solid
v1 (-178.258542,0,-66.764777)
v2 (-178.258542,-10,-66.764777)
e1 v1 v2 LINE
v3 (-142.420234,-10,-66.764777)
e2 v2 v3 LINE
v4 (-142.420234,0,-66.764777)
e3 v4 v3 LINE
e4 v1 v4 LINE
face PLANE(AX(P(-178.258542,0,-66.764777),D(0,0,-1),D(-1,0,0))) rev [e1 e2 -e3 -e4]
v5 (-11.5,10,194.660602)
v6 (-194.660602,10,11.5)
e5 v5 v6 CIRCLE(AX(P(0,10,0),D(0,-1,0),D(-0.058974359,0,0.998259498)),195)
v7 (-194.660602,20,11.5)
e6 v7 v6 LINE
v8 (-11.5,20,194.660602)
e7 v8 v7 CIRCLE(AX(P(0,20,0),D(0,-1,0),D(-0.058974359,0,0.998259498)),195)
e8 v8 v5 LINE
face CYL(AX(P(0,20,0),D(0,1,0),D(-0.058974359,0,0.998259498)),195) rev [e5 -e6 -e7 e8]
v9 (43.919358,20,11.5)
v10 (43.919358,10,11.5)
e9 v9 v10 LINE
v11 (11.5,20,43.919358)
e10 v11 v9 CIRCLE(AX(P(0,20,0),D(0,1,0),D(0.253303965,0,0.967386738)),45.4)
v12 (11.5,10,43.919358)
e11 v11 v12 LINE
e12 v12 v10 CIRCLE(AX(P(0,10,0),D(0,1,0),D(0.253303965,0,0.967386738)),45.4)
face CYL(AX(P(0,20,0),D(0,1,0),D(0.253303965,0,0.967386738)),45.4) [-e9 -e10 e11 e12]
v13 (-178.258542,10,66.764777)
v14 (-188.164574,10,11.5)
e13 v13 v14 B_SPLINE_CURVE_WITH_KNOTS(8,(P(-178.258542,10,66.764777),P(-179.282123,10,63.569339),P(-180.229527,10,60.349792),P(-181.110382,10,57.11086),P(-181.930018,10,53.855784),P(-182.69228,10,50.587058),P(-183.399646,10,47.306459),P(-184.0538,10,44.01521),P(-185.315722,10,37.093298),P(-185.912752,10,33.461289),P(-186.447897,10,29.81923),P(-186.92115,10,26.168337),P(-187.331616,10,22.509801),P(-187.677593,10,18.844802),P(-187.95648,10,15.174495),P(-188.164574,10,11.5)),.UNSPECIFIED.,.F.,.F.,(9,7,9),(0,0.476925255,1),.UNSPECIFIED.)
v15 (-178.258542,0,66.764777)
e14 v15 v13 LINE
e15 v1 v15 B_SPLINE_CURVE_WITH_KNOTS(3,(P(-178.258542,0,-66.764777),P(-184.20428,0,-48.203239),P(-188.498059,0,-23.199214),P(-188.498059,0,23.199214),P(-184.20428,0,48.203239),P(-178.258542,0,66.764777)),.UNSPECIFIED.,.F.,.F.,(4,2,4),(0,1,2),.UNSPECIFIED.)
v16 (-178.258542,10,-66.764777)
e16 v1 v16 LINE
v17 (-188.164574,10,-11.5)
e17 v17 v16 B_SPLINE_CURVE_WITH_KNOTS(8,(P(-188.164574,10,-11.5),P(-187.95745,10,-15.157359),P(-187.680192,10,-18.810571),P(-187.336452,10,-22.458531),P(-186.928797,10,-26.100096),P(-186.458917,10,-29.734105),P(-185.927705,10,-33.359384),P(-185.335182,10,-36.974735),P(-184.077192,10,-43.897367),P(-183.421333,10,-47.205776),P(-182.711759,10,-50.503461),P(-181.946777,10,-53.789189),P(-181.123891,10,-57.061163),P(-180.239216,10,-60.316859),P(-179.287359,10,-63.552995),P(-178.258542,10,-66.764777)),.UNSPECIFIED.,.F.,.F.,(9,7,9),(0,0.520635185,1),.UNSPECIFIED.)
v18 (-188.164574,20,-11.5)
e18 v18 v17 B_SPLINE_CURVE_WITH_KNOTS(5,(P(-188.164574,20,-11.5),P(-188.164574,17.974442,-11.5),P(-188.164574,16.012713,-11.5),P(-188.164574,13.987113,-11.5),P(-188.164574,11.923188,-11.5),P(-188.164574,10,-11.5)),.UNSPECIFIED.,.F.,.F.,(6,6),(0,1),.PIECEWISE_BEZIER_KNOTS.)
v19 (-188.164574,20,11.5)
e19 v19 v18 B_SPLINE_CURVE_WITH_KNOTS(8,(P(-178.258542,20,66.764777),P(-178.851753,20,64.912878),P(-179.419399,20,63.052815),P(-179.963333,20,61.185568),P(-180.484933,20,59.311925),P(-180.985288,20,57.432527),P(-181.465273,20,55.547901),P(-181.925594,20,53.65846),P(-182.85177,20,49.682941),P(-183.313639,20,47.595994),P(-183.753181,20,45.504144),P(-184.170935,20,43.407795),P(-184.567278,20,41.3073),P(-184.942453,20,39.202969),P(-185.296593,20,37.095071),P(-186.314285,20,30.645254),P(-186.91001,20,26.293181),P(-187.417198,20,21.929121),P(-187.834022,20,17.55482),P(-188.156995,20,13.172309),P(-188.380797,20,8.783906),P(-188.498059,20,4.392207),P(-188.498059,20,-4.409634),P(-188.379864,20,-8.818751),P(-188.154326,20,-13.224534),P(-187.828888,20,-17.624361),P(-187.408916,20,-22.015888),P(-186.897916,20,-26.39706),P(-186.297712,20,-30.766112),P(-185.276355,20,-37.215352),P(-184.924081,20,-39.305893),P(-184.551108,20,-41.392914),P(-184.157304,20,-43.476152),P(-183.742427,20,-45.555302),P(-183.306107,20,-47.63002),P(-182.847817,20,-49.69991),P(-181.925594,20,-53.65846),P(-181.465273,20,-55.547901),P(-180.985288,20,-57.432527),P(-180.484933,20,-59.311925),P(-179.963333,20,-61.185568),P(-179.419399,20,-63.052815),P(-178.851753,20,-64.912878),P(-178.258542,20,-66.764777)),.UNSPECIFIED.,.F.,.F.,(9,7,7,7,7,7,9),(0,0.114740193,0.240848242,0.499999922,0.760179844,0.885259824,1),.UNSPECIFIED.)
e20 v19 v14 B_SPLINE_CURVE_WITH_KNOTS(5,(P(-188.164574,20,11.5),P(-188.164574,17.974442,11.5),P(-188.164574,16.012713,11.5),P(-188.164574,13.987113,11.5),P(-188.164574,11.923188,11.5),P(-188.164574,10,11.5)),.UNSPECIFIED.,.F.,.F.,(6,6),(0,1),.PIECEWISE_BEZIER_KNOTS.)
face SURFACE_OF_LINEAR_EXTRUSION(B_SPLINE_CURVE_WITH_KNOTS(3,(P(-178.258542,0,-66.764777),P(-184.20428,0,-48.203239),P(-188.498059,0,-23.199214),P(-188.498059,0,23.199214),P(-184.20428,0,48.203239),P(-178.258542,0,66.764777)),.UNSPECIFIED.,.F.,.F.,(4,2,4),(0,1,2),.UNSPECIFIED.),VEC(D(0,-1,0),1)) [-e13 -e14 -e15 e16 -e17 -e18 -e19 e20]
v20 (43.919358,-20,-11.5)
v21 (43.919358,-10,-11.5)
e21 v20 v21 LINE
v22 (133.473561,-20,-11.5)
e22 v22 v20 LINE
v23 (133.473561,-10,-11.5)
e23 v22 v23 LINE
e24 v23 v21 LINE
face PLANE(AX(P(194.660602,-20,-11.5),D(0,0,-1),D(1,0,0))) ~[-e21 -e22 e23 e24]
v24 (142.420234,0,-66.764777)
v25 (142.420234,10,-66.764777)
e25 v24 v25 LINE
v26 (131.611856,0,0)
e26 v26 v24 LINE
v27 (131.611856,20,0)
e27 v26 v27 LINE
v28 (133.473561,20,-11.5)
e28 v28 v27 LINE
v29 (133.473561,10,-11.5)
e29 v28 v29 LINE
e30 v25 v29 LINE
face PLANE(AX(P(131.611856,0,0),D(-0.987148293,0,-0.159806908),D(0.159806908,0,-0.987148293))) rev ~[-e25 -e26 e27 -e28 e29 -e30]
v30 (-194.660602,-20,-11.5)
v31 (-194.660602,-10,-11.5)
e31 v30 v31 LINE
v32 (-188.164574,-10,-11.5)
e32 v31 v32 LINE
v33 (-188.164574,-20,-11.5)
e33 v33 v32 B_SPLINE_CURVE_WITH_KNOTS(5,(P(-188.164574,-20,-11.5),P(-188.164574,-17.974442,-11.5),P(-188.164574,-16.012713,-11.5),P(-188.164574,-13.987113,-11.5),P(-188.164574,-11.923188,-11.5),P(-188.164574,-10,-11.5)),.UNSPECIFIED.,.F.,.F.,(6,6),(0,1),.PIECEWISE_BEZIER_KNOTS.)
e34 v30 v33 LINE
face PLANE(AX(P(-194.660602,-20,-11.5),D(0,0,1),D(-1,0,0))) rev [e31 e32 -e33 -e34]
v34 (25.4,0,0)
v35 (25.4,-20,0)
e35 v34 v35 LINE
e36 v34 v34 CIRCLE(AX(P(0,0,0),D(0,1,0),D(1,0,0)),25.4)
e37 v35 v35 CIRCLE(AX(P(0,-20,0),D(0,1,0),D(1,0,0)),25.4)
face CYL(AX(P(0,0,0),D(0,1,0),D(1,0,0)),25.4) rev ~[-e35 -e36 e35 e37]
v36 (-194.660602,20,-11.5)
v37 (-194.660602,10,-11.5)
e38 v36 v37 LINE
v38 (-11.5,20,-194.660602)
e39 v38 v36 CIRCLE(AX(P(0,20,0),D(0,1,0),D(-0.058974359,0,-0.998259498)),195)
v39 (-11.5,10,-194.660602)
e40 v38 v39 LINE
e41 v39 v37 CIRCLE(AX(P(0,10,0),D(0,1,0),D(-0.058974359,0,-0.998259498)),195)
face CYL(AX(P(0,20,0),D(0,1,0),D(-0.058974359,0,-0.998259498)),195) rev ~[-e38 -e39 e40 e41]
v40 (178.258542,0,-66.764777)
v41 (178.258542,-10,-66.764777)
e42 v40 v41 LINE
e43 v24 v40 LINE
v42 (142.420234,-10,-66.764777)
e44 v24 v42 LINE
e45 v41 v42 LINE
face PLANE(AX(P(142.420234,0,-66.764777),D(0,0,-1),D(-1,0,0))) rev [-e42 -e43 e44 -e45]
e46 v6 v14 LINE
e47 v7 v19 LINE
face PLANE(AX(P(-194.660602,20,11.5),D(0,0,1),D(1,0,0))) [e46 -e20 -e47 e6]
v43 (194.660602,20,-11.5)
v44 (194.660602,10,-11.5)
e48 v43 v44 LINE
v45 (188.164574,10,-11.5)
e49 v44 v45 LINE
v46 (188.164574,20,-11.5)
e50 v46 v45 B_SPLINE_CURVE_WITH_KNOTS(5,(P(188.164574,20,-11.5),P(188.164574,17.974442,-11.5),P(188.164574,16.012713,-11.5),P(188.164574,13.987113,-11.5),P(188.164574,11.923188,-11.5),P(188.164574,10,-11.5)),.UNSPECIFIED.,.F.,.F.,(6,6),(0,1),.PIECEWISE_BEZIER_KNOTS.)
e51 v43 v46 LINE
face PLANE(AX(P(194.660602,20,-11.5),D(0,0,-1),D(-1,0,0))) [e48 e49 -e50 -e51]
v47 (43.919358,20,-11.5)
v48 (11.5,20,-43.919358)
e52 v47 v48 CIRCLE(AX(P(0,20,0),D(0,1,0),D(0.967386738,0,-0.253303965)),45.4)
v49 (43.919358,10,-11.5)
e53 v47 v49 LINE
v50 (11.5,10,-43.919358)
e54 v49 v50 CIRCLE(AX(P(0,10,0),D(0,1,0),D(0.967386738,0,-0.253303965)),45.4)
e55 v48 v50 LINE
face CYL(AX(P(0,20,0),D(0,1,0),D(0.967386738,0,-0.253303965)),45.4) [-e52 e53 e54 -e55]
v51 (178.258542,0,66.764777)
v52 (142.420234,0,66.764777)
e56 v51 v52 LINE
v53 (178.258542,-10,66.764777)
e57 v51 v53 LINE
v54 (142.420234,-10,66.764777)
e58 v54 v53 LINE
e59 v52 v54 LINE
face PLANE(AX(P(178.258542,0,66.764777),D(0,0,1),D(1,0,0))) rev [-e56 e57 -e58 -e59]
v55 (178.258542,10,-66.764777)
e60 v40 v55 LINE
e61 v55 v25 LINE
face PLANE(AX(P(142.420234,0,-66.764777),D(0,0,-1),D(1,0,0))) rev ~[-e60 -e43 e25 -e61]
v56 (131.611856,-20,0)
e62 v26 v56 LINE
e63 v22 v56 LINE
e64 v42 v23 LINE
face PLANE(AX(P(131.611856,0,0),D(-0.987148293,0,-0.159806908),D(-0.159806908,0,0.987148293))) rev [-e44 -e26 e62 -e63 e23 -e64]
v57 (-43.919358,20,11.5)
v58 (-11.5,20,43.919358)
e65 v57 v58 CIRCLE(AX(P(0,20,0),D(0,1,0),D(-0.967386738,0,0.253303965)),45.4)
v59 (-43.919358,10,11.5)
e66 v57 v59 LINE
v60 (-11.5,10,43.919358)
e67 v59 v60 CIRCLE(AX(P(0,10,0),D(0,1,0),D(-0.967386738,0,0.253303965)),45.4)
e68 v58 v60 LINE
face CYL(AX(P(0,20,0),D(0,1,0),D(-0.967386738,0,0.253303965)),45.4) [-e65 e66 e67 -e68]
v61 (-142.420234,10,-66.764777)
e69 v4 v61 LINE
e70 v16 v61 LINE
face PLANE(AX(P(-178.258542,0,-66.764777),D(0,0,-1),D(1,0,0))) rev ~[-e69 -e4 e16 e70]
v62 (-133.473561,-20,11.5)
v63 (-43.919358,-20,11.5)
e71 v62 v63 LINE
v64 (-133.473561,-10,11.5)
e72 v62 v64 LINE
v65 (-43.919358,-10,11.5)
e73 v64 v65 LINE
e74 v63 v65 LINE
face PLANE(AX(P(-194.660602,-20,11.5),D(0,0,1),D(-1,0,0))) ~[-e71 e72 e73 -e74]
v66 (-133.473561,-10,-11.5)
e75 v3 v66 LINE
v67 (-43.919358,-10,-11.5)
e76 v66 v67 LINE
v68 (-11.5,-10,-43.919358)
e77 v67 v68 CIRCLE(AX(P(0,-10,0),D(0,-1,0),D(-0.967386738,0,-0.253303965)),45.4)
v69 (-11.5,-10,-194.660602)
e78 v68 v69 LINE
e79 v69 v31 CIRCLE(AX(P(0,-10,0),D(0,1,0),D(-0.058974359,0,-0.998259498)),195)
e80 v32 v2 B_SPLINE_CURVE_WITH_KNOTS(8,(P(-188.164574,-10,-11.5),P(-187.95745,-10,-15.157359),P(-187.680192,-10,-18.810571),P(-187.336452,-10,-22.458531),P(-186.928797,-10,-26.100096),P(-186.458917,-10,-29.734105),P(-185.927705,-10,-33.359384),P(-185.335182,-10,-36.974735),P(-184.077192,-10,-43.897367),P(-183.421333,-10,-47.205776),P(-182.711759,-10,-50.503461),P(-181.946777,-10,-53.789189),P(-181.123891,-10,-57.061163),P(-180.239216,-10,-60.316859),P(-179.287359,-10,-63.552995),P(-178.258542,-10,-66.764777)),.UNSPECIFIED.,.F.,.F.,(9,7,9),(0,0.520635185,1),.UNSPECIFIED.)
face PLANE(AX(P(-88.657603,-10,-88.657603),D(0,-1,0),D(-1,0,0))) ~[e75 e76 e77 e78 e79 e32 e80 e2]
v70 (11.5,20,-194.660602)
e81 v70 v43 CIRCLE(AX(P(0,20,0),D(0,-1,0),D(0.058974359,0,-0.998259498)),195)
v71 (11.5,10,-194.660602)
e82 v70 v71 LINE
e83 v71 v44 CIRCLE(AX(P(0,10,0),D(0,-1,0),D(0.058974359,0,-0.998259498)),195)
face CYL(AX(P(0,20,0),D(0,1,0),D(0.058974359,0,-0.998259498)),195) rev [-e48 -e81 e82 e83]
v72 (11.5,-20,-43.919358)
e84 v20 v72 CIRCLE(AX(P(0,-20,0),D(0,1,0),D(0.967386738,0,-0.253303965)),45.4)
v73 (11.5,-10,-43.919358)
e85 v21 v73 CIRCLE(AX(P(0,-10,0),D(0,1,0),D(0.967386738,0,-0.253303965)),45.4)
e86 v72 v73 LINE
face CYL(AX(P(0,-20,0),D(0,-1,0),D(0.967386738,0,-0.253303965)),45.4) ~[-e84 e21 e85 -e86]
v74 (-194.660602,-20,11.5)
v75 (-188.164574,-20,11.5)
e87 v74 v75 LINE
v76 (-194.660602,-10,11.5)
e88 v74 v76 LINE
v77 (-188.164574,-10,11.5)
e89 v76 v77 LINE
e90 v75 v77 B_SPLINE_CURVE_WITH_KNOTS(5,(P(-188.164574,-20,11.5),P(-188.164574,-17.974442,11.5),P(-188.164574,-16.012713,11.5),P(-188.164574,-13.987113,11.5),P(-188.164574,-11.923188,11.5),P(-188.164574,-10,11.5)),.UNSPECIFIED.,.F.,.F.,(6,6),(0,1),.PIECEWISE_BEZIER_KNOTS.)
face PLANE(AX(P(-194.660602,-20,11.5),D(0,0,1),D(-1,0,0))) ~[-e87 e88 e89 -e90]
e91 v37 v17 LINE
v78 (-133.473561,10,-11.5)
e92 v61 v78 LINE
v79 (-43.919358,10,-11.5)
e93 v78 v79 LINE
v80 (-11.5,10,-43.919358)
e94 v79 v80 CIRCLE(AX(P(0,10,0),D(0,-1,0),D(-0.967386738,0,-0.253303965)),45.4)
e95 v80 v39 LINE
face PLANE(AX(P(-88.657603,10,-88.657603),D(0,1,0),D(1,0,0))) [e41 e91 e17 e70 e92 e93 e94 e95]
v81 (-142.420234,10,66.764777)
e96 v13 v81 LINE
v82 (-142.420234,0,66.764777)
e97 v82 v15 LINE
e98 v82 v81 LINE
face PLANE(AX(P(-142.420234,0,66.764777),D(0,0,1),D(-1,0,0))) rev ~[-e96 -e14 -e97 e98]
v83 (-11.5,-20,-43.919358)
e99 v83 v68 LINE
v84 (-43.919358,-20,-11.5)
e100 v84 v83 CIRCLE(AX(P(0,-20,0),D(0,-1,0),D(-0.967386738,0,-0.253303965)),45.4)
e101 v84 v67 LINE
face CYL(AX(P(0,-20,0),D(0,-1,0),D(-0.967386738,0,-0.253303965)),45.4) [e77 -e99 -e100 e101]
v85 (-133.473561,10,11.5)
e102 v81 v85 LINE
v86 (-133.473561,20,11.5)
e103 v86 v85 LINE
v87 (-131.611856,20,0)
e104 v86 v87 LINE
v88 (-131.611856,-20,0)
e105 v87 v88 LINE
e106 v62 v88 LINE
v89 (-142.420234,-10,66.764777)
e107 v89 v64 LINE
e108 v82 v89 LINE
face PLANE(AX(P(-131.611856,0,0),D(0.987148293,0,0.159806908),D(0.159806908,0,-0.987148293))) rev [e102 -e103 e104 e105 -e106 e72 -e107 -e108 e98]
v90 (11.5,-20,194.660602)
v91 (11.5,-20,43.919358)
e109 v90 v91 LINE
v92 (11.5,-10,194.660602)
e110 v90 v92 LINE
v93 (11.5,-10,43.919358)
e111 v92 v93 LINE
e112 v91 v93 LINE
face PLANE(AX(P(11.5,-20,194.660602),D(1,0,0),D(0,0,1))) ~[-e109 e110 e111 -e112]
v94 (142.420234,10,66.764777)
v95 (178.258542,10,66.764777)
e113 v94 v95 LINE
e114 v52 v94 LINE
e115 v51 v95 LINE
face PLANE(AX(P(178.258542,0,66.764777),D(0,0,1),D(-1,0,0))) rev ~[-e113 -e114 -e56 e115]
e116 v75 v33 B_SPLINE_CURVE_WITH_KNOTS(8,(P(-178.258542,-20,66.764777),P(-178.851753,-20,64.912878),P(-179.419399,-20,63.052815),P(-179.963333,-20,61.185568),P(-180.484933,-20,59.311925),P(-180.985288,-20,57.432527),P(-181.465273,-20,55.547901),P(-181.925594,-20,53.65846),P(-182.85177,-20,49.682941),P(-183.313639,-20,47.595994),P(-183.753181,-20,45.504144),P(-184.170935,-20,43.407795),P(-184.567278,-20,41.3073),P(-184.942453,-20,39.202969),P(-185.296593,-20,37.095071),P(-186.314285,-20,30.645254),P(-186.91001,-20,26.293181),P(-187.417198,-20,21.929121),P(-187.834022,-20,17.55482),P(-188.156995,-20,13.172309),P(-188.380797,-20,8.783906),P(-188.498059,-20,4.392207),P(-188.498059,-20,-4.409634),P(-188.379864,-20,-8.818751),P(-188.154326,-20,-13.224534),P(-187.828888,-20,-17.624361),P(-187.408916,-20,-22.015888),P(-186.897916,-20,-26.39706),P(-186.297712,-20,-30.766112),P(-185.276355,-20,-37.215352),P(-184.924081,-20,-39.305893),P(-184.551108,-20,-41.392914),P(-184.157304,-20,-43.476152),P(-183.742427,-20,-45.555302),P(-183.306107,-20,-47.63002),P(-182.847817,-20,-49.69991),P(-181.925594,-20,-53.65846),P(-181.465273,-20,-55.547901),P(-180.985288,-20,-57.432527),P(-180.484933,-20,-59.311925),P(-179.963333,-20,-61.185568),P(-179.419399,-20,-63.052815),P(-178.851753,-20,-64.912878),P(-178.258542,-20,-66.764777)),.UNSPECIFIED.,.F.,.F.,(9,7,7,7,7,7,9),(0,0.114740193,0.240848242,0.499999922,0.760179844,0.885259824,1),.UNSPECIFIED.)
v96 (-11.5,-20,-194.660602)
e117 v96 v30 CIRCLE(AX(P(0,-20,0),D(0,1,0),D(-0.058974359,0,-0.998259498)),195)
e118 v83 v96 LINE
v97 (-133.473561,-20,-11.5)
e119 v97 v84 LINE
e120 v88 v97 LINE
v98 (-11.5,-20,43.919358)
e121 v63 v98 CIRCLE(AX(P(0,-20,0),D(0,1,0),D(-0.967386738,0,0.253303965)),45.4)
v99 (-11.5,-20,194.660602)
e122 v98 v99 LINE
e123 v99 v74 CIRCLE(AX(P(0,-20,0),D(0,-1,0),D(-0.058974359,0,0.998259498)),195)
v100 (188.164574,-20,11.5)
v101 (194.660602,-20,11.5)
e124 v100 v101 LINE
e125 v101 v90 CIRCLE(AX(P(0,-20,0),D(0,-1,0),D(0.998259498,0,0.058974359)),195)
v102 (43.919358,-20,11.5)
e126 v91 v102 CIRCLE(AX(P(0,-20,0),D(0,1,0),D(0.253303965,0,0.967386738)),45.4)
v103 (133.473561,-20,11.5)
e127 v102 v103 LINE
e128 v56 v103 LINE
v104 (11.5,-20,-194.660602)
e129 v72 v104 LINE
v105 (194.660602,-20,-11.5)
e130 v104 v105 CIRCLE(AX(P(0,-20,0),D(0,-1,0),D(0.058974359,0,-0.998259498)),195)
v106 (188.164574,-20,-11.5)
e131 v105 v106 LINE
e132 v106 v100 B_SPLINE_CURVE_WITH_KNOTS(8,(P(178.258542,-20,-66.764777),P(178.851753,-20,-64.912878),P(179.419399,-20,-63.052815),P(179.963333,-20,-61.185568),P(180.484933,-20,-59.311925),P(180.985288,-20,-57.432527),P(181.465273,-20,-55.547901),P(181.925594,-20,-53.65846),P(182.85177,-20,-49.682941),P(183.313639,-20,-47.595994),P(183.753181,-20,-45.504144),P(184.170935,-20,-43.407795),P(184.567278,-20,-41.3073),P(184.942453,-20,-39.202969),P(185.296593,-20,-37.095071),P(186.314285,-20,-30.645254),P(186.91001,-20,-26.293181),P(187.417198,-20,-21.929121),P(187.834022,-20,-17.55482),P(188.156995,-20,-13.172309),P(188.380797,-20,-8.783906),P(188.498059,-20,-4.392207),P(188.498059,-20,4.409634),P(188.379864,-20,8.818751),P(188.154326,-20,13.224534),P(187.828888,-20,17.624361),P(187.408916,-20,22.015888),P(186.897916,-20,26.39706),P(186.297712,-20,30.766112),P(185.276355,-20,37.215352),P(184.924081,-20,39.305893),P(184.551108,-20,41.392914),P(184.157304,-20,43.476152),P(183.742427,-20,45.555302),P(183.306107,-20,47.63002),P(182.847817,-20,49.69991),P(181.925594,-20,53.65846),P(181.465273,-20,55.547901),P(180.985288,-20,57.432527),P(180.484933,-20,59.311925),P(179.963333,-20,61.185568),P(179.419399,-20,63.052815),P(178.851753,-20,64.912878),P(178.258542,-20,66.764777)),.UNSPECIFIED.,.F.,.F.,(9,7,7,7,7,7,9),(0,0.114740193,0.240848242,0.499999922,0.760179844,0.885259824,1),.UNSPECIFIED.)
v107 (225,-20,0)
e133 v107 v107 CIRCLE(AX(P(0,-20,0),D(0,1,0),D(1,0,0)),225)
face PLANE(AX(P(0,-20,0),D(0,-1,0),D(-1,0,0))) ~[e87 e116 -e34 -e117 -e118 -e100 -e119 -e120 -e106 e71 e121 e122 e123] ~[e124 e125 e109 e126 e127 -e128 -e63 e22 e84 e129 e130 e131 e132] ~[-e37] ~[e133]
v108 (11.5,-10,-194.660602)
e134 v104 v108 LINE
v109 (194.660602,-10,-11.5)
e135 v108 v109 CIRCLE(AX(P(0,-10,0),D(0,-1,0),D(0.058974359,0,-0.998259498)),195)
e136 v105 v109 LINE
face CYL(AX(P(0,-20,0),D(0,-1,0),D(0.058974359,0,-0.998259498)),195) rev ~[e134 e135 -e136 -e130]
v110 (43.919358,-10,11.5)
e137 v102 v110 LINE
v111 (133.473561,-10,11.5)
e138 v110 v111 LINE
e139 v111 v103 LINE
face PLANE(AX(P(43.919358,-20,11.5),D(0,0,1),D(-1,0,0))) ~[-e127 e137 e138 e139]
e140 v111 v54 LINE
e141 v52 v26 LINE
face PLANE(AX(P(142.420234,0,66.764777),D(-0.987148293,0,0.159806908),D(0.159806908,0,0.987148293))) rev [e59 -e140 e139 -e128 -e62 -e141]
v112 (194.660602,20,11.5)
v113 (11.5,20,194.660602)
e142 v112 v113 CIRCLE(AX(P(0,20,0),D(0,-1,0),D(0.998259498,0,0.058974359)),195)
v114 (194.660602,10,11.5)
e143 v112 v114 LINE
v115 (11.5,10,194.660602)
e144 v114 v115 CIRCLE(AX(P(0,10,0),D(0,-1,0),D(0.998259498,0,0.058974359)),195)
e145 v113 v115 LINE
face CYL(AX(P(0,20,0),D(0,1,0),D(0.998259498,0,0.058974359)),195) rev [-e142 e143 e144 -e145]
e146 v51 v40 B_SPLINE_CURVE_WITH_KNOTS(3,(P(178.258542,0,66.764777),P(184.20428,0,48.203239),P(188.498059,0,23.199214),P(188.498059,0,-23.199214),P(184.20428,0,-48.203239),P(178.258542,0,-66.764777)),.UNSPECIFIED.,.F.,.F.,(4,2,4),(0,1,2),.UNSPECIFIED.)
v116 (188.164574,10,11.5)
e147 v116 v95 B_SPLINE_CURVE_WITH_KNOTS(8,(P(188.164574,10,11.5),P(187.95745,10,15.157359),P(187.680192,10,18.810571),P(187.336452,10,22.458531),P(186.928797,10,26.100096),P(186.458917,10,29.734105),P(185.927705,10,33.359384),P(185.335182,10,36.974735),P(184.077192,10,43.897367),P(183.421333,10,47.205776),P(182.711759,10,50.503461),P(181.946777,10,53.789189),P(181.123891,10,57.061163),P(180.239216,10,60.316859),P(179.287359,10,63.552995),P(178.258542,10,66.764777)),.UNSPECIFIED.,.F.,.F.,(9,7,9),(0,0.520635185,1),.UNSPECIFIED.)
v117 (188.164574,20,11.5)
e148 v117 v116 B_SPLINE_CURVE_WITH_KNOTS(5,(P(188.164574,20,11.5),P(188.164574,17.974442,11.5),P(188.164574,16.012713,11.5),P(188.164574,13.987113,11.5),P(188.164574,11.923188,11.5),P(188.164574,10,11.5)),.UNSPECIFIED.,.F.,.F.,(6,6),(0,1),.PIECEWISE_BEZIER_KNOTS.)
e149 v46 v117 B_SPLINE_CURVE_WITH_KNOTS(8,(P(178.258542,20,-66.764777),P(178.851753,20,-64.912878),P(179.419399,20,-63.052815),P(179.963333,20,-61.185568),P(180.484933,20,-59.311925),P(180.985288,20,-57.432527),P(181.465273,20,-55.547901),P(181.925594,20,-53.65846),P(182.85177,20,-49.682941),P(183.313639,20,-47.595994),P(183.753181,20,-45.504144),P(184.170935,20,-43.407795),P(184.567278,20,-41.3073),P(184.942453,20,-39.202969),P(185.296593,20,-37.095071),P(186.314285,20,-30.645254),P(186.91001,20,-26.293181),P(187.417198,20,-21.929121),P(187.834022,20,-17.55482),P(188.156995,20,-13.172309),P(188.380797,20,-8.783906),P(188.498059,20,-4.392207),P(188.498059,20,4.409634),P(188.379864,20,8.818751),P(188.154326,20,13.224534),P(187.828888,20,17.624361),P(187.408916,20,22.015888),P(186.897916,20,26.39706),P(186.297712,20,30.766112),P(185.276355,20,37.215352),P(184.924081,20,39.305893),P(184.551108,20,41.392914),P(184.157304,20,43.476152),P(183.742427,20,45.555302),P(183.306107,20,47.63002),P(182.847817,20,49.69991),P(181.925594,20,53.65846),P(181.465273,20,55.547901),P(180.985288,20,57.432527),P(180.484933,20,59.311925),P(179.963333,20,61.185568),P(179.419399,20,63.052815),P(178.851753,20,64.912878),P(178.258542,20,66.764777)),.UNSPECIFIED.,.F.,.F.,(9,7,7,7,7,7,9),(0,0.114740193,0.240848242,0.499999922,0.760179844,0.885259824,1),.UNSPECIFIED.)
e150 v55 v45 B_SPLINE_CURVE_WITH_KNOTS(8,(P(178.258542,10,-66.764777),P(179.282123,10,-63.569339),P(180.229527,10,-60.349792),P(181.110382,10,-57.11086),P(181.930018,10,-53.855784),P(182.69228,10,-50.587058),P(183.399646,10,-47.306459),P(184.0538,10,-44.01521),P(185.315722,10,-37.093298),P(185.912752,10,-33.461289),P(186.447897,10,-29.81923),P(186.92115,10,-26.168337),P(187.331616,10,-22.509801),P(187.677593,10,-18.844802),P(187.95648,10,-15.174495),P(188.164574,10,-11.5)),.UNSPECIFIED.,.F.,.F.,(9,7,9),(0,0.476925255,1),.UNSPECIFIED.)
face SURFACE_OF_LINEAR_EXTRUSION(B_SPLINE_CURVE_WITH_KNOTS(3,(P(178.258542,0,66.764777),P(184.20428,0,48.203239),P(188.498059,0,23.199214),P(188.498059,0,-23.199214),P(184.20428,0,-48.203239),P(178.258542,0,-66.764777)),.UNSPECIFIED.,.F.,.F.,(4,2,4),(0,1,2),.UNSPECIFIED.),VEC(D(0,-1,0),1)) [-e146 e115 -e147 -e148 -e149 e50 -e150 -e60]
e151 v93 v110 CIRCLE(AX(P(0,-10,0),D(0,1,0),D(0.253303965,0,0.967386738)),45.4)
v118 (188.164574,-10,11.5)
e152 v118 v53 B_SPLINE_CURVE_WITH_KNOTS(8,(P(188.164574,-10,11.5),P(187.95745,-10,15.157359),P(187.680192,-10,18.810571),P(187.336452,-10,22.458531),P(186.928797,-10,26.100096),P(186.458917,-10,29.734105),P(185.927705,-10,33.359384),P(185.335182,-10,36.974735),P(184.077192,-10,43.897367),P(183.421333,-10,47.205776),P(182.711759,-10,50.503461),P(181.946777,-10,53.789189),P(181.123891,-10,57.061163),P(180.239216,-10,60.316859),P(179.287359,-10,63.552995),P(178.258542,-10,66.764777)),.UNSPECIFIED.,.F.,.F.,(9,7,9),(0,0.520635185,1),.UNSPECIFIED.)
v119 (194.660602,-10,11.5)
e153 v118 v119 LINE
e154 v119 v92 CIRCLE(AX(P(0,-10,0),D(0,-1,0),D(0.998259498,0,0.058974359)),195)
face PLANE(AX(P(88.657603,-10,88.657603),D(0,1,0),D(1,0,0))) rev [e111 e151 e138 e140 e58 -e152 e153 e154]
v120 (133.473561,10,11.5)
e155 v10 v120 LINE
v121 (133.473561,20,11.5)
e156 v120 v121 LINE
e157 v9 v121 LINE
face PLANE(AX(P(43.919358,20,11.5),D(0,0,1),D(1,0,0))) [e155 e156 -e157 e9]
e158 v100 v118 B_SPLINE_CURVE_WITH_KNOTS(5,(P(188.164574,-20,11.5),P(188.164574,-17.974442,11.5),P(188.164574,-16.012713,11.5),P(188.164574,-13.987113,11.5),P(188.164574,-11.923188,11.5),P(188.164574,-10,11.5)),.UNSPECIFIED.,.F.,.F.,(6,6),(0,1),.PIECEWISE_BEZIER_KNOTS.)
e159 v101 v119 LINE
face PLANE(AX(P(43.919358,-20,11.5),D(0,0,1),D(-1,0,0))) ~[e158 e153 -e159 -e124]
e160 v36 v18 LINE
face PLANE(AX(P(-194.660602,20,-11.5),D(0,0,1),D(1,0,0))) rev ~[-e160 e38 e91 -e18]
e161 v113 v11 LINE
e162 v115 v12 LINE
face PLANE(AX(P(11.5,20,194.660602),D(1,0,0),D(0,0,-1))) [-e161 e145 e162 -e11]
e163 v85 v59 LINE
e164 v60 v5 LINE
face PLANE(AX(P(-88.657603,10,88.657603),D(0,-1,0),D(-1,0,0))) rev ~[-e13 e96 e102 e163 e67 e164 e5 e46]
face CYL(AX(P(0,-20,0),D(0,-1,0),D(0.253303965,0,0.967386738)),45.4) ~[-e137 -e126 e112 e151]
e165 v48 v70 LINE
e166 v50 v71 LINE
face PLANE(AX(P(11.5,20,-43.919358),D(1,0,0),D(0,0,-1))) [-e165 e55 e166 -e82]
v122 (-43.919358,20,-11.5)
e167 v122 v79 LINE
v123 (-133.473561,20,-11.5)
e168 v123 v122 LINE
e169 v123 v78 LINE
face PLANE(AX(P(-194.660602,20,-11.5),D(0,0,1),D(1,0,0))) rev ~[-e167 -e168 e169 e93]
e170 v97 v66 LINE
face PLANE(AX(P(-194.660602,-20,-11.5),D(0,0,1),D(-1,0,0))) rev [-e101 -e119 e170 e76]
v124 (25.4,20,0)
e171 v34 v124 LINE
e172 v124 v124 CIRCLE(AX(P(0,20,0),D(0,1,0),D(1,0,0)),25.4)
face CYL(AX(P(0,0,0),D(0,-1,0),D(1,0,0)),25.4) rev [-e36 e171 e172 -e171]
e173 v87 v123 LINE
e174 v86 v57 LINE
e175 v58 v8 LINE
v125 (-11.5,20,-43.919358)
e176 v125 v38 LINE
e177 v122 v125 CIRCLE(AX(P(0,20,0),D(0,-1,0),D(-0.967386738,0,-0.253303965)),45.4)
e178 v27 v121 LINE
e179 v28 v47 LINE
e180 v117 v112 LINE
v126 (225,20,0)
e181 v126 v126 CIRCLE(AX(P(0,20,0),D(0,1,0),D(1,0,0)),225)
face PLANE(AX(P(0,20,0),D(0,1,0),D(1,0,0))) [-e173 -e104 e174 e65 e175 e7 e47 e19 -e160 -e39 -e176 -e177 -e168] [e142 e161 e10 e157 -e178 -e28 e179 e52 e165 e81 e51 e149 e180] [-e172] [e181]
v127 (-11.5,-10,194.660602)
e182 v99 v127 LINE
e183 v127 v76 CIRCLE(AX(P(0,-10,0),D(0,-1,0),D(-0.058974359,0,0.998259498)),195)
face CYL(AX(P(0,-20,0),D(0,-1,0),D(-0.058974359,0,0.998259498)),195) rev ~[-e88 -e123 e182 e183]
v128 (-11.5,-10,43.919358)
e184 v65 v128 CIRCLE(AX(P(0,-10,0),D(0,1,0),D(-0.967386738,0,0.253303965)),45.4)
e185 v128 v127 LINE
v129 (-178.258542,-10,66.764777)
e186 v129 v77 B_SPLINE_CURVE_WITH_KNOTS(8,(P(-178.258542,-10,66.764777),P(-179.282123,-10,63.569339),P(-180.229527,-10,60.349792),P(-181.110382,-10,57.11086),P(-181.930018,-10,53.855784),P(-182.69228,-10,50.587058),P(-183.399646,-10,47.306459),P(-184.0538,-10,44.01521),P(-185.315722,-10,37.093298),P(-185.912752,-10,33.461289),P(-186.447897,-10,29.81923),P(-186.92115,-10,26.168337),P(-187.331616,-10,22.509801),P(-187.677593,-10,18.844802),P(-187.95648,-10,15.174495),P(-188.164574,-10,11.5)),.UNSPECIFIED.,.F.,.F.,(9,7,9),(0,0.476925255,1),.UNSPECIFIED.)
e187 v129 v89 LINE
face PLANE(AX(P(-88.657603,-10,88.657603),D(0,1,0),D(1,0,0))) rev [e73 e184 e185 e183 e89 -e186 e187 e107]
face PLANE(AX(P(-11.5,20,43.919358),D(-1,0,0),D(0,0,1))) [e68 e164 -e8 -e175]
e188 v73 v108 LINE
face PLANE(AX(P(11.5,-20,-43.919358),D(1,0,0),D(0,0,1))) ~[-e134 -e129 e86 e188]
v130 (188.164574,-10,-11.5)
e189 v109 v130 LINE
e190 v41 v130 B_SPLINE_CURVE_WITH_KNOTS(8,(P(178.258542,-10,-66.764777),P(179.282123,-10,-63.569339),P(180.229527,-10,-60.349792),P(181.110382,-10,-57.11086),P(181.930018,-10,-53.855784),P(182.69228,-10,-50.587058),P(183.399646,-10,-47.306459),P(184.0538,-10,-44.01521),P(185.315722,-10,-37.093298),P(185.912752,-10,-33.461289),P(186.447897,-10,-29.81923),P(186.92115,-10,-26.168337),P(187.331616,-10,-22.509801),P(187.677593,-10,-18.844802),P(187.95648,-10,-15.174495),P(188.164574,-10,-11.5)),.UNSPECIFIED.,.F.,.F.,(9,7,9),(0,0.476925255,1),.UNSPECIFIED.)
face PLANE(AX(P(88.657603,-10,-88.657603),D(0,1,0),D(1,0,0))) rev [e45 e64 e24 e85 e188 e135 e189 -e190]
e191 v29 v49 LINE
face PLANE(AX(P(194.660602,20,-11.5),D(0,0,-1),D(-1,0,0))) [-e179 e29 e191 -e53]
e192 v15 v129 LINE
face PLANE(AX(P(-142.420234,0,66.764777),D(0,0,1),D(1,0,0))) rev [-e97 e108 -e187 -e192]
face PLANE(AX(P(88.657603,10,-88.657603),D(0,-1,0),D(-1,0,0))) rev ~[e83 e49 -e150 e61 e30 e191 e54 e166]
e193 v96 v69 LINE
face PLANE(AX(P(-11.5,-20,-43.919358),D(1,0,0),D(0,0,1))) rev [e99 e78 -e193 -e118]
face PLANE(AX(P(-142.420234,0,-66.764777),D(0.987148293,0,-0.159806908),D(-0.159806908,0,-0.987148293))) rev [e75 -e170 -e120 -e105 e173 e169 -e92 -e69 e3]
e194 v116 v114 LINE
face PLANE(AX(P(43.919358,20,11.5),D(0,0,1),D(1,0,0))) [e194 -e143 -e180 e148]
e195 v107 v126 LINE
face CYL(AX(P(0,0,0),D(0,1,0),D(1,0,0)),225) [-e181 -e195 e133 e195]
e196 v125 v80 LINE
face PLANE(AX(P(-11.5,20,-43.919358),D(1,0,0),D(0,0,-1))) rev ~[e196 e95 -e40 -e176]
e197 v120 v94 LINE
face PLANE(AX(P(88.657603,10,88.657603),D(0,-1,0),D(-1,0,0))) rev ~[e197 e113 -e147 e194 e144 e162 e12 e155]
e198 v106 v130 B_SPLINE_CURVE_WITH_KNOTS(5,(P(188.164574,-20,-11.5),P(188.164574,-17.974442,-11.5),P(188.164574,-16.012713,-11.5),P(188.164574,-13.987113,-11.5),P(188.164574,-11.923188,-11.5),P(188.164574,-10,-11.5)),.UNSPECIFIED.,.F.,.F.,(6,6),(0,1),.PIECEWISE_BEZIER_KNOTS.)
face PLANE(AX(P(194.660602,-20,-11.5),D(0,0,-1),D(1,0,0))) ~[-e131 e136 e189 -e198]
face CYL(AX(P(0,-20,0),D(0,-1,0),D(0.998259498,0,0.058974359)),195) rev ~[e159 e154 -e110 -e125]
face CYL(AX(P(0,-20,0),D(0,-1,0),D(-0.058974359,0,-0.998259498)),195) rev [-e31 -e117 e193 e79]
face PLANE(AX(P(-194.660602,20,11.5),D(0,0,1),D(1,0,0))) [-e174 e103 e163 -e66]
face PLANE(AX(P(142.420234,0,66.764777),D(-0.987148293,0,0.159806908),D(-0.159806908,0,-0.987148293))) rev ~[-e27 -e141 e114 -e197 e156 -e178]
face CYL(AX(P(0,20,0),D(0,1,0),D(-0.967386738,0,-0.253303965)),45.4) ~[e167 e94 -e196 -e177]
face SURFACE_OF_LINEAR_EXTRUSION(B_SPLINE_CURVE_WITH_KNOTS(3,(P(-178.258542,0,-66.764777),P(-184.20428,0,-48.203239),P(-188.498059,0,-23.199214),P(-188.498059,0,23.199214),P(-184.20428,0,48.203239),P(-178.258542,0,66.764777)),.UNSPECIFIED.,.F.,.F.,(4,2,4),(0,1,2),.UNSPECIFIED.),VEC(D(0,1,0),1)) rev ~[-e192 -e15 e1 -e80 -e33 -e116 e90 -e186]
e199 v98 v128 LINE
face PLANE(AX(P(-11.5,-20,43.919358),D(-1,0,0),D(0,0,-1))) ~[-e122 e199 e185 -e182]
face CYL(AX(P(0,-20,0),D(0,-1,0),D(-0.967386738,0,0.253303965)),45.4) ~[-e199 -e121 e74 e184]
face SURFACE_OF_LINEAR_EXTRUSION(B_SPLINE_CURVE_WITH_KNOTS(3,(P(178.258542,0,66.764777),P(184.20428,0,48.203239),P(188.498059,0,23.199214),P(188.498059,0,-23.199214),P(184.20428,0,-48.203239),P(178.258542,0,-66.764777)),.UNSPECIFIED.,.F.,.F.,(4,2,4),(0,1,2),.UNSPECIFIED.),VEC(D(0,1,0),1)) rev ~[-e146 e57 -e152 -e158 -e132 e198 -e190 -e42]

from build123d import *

# Parameters (mm, degrees)
SKETCH1_R               = 225
SKETCH1_R_2             = 25.4
BOSS_EXTRUDE1_DEPTH     = 20
CUT_EXTRUDE1_DEPTH      = 21
CUT_EXTRUDE1_DEPTH_BACK = 1
CUT_EXTRUDE2_START      = 20
CUT_EXTRUDE2_DEPTH      = 10


with BuildPart() as part:
    # Sketch1 → Boss-Extrude1 (new body)
    with BuildSketch(Plane(origin=(0, 0, 0), x_dir=(1, 0, 0), z_dir=(0, 1, 0))):
        Circle(SKETCH1_R)
        Circle(SKETCH1_R_2, mode=Mode.SUBTRACT)
    extrude(amount=BOSS_EXTRUDE1_DEPTH)

    # Sketch2 → Cut-Extrude1 (cut, two sides)
    with BuildSketch(Plane(origin=(0, 0, 0), x_dir=(1, 0, 0), z_dir=(0, 1, 0))) as cut_extrude1_sk:
        with BuildLine():
            Line((-178.258542487, 66.764776795), (-142.42023427, 66.764776795))
            Line((-142.42023427, 66.764776795), (-131.611855601, 0))
            Line((-131.611855601, 0), (-142.42023427, -66.764776795))
            Line((-142.42023427, -66.764776795), (-178.258542487, -66.764776795))
            add(Edge.make_bspline(
                [(-188.498059121, 0), (-188.498059121, -23.199214205), (-184.204279862, -48.203238876), (-178.258542487, -66.764776795)],
                knots=[0, 0, 0, 0, 1, 1, 1, 1], degree=3))
            add(Edge.make_bspline(
                [(-188.498059121, 0), (-188.498059121, 23.199214205), (-184.204279862, 48.203238876), (-178.258542487, 66.764776795)],
                knots=[0, 0, 0, 0, 1, 1, 1, 1], degree=3))
        make_face()
        with BuildLine():
            Line((178.258542487, -66.764776795), (142.42023427, -66.764776795))
            Line((142.42023427, -66.764776795), (131.611855601, 0))
            Line((131.611855601, 0), (142.42023427, 66.764776795))
            Line((142.42023427, 66.764776795), (178.258542487, 66.764776795))
            add(Edge.make_bspline(
                [(188.498059121, 0), (188.498059121, 23.199214205), (184.204279862, 48.203238876), (178.258542487, 66.764776795)],
                knots=[0, 0, 0, 0, 1, 1, 1, 1], degree=3))
            add(Edge.make_bspline(
                [(188.498059121, 0), (188.498059121, -23.199214205), (184.204279862, -48.203238876), (178.258542487, -66.764776795)],
                knots=[0, 0, 0, 0, 1, 1, 1, 1], degree=3))
        make_face()
    extrude(amount=CUT_EXTRUDE1_DEPTH, mode=Mode.SUBTRACT)
    extrude(cut_extrude1_sk.sketch, amount=-CUT_EXTRUDE1_DEPTH_BACK, mode=Mode.SUBTRACT)

    # Sketch3 → Cut-Extrude2 (cut)
    with BuildSketch(Plane(origin=(0, 0, 0), x_dir=(1, 0, 0), z_dir=(0, 1, 0)).offset(CUT_EXTRUDE2_START)):
        with BuildLine():
            Line((-11.5, 43.919357919), (-11.5, 194.660602074))
            ThreePointArc((-11.5, 194.660602074), (-137.885822331, 137.885822331), (-194.660602074, 11.5))
            Line((-194.660602074, 11.5), (-43.919357919, 11.5))
            ThreePointArc((-43.919357919, 11.5), (-32.102647866, 32.102647866), (-11.5, 43.919357919))
        make_face()
        with BuildLine():
            Line((11.5, 43.919357919), (11.5, 194.660602074))
            ThreePointArc((11.5, 194.660602074), (137.885822331, 137.885822331), (194.660602074, 11.5))
            Line((194.660602074, 11.5), (43.919357919, 11.5))
            ThreePointArc((43.919357919, 11.5), (32.102647866, 32.102647866), (11.5, 43.919357919))
        make_face()
        with BuildLine():
            Line((43.919357919, -11.5), (194.660602074, -11.5))
            ThreePointArc((194.660602074, -11.5), (137.885822331, -137.885822331), (11.5, -194.660602074))
            Line((11.5, -194.660602074), (11.5, -43.919357919))
            ThreePointArc((11.5, -43.919357919), (32.102647866, -32.102647866), (43.919357919, -11.5))
        make_face()
        with BuildLine():
            Line((-11.5, -43.919357919), (-11.5, -194.660602074))
            ThreePointArc((-11.5, -194.660602074), (-137.885822331, -137.885822331), (-194.660602074, -11.5))
            Line((-194.660602074, -11.5), (-43.919357919, -11.5))
            ThreePointArc((-43.919357919, -11.5), (-32.102647866, -32.102647866), (-11.5, -43.919357919))
        make_face()
    extrude(amount=-CUT_EXTRUDE2_DEPTH, mode=Mode.SUBTRACT)

    # Mirror2: part across plane


with BuildPart() as part_1:
    add(part.part)
    add(part.part.mirror(Plane.ZX))


solid = part_1.part
